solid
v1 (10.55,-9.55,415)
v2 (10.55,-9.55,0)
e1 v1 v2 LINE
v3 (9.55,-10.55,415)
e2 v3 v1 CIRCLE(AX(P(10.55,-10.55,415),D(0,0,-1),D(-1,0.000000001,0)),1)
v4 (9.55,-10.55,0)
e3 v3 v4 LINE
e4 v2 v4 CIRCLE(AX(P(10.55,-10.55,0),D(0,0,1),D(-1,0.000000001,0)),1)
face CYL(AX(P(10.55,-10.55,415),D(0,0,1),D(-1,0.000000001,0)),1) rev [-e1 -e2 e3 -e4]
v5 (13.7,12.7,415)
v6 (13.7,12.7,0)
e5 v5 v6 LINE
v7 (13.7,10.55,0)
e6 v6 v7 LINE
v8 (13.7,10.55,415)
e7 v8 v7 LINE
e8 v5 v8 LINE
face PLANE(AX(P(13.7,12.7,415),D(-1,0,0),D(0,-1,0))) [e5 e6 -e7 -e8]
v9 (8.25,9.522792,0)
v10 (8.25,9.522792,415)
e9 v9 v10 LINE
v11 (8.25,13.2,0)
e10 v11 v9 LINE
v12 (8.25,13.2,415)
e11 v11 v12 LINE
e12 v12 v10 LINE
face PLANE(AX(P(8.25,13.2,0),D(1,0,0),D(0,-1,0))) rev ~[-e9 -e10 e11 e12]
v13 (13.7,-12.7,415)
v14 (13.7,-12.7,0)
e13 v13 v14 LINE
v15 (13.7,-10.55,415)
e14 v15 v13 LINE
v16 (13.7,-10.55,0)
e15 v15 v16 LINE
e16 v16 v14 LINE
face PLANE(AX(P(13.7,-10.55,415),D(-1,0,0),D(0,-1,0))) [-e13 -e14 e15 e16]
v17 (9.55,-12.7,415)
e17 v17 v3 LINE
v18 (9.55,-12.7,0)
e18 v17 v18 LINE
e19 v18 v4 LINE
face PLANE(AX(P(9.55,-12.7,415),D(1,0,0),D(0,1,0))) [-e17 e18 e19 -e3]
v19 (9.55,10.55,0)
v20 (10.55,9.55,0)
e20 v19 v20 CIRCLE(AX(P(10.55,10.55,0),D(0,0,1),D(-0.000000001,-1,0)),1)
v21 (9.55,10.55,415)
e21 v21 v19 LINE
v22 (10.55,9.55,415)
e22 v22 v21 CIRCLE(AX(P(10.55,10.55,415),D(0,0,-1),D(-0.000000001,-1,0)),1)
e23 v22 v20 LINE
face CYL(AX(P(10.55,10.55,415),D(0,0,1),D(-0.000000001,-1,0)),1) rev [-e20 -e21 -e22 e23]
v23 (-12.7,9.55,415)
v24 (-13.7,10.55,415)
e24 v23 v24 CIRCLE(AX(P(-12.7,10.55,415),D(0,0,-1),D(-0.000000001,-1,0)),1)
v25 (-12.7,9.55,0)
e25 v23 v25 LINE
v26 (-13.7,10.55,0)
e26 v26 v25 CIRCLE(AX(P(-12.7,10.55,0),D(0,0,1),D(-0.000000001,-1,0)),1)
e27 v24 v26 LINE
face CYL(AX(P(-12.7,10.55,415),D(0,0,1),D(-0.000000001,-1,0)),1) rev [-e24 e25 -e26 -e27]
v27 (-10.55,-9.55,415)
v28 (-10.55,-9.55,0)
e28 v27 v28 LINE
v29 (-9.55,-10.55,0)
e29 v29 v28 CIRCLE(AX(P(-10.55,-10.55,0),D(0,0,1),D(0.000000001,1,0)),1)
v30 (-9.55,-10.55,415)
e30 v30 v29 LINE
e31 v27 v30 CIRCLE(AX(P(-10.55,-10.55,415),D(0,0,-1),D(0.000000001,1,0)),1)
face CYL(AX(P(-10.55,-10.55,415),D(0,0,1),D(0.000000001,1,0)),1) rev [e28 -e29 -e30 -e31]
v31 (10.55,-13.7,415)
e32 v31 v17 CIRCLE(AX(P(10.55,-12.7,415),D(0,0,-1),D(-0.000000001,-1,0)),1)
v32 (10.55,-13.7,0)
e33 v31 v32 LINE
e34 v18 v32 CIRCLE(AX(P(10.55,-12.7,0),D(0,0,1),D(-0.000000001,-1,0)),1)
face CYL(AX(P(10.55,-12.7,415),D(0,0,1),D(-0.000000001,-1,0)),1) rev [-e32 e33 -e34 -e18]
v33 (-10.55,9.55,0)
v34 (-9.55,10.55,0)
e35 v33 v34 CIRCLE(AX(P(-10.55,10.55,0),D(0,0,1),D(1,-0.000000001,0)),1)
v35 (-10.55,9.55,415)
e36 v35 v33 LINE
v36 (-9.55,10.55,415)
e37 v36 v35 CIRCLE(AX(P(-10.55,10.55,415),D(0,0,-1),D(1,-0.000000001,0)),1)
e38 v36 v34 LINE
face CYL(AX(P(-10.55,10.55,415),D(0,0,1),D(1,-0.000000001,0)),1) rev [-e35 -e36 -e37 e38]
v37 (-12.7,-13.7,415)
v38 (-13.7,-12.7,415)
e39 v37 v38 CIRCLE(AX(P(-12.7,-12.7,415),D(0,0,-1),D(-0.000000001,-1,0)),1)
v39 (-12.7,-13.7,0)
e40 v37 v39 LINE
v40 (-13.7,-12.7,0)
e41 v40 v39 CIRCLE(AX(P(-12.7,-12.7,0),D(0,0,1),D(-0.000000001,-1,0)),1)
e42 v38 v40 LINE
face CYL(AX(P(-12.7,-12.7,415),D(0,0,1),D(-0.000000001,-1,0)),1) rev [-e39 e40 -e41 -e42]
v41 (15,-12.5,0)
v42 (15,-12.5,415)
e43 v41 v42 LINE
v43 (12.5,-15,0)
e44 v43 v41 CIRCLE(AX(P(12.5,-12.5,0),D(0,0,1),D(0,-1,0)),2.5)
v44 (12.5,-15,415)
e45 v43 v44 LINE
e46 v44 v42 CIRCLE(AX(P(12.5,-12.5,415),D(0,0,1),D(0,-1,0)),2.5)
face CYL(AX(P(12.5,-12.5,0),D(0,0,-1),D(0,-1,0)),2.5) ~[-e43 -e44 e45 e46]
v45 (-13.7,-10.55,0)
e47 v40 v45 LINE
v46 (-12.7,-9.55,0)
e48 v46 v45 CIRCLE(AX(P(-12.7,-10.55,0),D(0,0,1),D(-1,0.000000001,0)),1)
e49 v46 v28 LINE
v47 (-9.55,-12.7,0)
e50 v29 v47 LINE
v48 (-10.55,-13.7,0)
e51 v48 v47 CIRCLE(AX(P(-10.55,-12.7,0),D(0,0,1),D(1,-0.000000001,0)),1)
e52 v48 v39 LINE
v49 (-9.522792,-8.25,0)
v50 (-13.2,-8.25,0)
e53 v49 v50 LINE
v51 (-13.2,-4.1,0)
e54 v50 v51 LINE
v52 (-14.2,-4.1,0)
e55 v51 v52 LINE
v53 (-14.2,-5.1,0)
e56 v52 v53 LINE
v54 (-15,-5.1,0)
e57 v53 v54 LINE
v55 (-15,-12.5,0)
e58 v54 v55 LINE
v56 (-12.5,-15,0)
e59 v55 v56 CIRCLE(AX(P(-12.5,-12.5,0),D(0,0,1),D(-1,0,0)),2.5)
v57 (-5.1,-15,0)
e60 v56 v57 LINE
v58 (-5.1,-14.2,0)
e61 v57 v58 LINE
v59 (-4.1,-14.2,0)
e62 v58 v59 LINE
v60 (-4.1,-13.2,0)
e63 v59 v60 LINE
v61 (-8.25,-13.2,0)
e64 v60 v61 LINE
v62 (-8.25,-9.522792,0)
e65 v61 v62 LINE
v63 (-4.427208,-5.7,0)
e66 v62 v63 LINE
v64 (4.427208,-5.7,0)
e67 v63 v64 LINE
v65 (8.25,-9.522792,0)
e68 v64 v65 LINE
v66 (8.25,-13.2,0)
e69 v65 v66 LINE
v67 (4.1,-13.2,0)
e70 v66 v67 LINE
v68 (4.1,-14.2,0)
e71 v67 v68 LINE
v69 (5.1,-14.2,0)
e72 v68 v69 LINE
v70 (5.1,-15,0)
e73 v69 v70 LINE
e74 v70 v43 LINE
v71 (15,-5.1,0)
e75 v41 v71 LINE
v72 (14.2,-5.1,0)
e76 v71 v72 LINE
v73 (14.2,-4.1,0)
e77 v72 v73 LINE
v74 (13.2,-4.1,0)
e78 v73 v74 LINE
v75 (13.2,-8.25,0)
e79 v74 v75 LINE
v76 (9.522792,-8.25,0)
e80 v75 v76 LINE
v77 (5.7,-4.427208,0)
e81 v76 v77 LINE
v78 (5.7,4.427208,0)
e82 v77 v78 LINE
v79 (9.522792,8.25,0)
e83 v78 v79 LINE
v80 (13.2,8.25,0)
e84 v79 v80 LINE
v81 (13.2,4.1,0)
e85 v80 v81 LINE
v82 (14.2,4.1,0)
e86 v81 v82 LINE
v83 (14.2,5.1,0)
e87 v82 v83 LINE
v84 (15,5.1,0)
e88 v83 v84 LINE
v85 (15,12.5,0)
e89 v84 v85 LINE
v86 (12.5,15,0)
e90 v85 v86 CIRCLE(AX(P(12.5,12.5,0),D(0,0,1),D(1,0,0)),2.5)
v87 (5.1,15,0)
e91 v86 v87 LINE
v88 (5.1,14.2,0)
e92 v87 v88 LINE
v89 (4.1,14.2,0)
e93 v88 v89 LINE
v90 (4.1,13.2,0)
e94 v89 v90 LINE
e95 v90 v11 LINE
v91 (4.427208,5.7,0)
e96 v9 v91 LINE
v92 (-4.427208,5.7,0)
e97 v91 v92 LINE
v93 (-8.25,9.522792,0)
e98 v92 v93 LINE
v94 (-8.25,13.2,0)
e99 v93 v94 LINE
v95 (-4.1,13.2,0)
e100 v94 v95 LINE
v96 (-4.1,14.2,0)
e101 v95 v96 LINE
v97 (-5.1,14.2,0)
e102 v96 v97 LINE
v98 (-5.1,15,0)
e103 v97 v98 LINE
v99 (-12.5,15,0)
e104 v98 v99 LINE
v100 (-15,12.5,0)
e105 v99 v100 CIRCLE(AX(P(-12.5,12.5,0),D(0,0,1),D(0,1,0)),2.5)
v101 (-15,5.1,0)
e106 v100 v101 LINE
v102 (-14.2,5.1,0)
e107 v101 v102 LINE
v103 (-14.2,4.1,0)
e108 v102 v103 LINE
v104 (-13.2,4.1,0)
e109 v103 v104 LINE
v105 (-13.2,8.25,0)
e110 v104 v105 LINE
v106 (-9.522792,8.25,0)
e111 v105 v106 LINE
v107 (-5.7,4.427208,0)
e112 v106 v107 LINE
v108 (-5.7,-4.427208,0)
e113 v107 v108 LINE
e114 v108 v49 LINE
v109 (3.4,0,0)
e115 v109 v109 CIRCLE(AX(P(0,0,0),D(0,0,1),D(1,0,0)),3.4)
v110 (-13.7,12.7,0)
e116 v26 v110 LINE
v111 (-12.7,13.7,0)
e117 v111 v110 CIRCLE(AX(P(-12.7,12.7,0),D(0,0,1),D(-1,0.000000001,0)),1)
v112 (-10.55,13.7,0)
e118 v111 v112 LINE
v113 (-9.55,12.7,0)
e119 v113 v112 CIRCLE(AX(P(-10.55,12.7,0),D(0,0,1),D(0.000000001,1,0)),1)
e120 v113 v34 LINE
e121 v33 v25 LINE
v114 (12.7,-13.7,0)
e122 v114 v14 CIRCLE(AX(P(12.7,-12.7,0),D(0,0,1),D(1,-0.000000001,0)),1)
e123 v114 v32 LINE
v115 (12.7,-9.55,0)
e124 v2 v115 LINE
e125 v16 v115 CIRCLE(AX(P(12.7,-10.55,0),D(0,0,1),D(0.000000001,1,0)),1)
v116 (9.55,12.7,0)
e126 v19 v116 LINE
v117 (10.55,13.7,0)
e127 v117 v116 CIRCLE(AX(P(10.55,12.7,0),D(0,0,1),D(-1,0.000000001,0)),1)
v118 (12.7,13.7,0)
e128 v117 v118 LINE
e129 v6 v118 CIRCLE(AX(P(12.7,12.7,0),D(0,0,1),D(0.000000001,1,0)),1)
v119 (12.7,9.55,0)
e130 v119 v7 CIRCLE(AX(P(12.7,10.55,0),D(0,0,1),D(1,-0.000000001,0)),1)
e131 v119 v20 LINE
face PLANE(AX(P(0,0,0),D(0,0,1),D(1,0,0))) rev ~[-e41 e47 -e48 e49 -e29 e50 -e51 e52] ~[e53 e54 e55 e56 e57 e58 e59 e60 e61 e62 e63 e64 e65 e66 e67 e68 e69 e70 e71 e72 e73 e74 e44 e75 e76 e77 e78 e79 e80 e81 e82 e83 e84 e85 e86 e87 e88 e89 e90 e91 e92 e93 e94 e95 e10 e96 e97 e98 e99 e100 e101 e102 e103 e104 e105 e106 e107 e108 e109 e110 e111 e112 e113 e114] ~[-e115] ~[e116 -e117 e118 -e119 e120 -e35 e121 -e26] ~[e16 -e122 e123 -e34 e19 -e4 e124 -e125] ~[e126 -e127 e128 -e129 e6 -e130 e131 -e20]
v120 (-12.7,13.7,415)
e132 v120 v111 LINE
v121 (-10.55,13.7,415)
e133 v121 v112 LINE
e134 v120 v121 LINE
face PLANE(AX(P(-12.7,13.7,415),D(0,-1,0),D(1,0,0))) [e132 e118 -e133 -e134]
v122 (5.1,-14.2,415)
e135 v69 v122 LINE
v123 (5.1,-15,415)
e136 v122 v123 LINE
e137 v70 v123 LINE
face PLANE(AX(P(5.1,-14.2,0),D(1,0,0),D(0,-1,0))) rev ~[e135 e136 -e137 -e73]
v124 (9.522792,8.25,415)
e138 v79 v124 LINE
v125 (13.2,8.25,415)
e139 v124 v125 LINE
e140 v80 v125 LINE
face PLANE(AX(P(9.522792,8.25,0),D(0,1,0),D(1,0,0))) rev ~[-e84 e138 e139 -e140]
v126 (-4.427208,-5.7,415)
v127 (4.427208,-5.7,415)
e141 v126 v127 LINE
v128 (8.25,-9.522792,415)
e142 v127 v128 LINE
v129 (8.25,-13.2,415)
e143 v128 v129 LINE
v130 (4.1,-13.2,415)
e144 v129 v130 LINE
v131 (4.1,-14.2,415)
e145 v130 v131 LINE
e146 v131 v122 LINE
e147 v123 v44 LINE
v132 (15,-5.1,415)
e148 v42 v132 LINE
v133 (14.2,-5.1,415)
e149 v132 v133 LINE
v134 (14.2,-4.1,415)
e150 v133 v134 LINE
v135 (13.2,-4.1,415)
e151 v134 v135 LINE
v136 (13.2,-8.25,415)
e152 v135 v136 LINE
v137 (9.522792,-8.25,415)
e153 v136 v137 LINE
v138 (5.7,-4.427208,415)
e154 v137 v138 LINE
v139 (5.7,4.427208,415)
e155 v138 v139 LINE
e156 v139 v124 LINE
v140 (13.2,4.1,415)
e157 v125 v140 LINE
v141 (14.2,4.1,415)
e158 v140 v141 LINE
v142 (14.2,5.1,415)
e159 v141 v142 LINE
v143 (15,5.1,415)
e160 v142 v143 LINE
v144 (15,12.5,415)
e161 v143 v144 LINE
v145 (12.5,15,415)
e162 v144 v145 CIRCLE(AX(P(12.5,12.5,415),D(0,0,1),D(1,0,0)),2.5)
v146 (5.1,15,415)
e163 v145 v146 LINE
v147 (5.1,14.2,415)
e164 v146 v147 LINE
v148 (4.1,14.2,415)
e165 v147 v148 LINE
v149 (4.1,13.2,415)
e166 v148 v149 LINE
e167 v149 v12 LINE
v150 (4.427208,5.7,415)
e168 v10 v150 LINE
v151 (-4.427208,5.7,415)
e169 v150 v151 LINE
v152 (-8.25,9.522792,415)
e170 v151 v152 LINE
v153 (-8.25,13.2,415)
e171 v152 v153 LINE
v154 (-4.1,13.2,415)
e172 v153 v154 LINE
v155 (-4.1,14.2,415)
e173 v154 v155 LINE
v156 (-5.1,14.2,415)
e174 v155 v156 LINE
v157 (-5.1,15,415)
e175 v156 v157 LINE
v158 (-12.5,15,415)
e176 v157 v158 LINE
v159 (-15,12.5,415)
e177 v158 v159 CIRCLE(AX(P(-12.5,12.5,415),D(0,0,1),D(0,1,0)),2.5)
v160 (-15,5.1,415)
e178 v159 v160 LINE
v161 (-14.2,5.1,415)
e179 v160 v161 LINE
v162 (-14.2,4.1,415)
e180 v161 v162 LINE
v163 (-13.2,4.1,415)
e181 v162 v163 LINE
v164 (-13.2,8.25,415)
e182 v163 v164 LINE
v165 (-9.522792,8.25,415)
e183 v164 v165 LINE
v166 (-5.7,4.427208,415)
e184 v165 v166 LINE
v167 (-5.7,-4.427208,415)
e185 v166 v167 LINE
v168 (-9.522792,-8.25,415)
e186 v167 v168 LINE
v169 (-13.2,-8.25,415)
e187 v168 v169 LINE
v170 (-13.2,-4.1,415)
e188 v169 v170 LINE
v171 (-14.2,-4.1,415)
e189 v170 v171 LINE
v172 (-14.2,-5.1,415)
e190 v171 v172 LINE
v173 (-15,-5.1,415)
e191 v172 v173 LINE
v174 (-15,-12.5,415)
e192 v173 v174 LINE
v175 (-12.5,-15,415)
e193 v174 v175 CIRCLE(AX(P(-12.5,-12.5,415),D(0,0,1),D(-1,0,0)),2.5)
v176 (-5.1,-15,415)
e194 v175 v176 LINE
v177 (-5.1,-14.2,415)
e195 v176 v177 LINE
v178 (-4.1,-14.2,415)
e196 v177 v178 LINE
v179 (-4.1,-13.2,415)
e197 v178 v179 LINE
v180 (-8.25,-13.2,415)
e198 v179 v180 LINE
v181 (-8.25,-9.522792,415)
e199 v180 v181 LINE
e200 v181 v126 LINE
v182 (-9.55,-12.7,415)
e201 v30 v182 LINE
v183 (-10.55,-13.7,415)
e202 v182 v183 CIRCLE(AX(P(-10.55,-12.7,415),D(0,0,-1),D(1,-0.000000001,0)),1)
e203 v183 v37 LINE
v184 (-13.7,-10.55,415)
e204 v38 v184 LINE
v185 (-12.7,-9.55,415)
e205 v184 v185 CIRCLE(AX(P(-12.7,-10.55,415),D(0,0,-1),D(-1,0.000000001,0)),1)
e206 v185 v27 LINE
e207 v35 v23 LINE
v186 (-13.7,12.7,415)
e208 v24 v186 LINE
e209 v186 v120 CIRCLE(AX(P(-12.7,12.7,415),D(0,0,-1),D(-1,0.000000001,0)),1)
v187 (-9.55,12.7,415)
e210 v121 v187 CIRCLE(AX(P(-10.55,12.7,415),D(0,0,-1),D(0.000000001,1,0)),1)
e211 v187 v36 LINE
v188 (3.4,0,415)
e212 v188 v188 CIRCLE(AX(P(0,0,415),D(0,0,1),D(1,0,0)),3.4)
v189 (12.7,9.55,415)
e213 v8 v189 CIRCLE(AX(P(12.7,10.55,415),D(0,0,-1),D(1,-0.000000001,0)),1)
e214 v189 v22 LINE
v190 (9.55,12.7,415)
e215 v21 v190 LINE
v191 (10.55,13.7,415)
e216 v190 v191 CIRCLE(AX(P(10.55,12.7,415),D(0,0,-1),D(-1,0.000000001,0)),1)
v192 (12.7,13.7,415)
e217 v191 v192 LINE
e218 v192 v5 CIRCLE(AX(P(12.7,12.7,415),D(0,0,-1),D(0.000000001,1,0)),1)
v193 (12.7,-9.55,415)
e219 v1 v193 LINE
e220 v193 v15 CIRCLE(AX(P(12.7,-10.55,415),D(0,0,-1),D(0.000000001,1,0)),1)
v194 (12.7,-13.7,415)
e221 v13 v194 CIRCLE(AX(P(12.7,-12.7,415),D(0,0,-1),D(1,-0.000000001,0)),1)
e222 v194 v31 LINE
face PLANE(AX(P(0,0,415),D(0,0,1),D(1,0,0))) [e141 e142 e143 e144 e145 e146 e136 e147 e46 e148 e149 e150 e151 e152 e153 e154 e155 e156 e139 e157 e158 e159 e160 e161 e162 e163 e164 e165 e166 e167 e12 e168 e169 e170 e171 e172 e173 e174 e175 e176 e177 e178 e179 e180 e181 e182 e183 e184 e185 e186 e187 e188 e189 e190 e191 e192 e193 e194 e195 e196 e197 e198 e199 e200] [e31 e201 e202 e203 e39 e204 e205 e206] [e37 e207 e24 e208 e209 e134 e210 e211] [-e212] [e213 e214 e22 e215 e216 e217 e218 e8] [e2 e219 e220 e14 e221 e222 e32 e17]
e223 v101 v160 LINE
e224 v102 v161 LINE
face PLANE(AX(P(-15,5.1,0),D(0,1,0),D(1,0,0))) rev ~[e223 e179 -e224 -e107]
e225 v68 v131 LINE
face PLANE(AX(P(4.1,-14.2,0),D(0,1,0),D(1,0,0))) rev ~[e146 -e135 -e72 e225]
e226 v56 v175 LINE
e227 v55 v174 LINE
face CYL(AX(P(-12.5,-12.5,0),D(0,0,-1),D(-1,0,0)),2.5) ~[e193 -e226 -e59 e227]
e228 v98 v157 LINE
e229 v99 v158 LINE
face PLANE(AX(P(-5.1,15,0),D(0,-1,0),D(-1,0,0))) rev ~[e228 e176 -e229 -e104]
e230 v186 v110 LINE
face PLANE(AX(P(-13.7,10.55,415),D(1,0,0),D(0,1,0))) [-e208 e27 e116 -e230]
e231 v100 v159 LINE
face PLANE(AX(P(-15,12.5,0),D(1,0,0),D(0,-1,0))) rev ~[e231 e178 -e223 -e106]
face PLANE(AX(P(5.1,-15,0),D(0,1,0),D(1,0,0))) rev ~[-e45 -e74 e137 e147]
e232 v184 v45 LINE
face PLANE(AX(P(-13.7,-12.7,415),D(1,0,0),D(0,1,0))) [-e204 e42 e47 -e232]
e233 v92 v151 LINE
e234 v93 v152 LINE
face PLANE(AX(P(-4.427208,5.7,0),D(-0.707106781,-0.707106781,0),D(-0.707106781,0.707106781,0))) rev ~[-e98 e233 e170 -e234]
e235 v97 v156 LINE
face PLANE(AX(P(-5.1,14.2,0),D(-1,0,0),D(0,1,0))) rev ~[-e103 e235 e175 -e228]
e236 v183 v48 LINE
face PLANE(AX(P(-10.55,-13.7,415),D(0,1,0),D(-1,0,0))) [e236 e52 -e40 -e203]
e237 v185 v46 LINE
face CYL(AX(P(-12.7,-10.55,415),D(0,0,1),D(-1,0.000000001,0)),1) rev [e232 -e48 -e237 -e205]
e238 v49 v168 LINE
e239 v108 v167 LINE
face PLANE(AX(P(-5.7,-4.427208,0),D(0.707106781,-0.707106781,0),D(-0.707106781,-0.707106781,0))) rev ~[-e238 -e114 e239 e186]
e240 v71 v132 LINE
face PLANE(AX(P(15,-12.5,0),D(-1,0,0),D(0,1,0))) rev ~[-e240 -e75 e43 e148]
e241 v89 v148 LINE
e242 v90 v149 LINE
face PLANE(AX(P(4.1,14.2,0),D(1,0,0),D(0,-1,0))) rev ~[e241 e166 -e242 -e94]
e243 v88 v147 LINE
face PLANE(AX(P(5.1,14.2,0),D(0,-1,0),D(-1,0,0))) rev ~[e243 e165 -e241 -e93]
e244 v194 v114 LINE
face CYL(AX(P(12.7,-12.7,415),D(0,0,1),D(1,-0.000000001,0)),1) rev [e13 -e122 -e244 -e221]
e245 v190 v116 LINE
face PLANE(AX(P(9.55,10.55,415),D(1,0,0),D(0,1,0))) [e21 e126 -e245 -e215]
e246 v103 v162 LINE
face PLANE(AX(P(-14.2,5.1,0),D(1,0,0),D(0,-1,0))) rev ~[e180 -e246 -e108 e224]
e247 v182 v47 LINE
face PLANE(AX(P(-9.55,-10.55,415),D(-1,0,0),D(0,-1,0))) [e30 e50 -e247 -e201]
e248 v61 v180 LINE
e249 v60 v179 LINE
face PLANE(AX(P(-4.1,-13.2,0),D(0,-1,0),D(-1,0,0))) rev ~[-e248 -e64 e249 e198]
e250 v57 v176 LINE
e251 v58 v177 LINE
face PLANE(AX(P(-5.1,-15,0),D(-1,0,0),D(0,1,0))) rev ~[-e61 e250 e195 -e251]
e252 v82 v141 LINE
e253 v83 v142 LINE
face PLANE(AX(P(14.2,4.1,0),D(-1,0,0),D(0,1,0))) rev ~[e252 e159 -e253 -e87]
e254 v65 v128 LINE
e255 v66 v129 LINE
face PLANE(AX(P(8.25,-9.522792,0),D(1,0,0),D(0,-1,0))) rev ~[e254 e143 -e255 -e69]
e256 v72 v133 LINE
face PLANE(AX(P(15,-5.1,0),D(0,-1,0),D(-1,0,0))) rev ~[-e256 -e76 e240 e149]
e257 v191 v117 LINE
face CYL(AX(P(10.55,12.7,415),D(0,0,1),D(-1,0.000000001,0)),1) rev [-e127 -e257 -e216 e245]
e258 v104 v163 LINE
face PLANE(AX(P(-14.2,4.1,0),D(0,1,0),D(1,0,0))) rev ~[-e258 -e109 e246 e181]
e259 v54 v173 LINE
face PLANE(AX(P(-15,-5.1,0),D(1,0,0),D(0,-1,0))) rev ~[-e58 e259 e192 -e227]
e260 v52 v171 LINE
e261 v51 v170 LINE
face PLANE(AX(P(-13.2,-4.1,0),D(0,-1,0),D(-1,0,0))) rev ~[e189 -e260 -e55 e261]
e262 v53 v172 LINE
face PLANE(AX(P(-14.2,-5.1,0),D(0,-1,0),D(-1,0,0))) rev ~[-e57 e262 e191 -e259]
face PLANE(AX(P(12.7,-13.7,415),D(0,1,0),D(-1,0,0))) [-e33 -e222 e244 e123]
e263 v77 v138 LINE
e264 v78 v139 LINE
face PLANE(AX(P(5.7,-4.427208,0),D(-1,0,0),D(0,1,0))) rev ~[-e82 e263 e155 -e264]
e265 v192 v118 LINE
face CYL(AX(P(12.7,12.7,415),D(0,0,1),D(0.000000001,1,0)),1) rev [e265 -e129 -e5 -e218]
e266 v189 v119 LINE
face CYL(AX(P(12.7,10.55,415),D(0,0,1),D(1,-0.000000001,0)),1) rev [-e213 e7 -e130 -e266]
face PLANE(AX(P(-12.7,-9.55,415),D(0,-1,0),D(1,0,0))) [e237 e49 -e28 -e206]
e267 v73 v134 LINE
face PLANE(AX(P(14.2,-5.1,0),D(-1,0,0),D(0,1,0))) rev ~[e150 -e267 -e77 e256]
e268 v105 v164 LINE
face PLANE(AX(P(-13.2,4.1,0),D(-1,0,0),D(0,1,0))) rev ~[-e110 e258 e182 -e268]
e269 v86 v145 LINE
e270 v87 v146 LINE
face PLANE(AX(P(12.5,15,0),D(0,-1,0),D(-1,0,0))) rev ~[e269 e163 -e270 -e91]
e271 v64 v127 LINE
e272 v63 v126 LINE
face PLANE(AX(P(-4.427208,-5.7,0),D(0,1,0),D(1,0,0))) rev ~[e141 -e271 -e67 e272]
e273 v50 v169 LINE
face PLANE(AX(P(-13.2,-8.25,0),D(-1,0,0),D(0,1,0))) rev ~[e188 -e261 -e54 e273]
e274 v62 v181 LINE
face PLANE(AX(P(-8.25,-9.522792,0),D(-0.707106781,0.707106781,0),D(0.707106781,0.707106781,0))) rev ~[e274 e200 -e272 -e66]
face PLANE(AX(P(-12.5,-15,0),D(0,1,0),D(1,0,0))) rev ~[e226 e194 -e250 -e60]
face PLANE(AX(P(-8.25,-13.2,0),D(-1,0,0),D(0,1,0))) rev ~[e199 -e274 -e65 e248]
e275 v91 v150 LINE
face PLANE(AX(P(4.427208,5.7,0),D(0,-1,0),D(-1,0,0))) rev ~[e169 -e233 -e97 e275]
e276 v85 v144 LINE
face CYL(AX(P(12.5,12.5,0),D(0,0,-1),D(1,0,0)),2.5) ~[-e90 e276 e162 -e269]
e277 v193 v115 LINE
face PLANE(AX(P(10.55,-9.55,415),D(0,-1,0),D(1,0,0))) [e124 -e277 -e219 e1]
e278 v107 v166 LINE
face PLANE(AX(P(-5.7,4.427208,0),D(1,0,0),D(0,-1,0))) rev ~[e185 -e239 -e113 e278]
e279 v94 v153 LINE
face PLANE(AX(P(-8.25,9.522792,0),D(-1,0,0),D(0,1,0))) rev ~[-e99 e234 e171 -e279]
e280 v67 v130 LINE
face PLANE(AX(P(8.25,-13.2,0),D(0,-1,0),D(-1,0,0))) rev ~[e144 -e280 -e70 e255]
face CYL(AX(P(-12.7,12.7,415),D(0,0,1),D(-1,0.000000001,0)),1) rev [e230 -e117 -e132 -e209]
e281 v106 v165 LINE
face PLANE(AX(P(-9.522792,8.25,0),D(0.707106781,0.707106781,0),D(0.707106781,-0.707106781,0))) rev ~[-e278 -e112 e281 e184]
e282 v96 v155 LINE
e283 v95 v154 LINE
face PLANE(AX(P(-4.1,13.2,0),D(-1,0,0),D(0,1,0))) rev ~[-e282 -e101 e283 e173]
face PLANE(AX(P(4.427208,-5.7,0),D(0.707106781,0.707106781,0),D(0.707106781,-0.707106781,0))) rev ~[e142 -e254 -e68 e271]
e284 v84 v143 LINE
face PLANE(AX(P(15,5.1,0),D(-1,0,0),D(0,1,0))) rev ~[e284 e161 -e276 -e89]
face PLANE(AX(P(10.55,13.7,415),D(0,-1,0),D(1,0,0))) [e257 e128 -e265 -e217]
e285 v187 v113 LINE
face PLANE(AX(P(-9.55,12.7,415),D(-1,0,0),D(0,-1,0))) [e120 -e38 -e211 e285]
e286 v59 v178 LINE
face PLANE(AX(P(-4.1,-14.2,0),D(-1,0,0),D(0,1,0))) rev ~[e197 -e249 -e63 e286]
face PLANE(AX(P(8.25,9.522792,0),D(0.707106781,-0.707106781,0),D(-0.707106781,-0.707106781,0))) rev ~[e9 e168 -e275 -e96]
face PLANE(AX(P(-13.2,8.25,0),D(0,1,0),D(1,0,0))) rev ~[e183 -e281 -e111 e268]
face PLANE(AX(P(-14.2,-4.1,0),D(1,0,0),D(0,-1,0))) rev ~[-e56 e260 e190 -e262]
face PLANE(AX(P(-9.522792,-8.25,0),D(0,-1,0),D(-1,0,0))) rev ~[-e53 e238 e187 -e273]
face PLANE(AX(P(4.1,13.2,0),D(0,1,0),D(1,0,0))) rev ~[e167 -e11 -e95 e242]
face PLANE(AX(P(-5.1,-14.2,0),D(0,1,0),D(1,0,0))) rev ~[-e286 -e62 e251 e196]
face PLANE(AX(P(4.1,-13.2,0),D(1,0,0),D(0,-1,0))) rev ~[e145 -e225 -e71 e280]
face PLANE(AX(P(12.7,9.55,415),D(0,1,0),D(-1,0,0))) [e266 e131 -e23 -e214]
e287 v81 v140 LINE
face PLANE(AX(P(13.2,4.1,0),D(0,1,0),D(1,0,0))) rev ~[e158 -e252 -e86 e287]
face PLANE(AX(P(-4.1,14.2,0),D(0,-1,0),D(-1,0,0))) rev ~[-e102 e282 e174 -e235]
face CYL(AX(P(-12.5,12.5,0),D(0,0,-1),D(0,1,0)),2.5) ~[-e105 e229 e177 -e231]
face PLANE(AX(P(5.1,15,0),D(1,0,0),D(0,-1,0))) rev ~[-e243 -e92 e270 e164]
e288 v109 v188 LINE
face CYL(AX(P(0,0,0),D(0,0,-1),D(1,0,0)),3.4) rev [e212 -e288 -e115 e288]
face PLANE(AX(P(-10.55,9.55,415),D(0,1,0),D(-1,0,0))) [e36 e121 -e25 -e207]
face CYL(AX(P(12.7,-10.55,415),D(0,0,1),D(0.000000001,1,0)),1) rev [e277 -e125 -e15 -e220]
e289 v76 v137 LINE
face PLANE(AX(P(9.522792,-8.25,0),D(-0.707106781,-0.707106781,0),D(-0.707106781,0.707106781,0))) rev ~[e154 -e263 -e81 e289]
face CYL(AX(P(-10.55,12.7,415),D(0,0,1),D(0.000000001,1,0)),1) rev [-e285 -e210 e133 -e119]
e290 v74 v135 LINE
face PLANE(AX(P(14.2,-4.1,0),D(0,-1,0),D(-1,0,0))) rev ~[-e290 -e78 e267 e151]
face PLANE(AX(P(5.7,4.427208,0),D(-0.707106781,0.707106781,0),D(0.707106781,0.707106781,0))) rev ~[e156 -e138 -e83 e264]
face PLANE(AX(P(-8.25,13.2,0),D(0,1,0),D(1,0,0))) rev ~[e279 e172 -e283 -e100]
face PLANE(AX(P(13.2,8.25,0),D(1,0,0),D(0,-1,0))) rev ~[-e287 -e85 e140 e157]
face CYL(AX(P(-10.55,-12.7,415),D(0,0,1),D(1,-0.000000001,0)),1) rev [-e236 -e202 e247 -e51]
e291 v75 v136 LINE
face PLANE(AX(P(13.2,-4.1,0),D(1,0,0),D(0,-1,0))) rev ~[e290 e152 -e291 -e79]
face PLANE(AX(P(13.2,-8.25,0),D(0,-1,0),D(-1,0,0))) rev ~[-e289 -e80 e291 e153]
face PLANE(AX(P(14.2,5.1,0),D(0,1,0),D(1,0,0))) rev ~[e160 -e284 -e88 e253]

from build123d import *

# Parameters (mm, degrees)
SKETCH1_R      = 3.4
EXTRUDE1_DEPTH = 415
EXTRUDE2_DEPTH = 416.541814984


with BuildPart() as part:
    # Sketch1 → Extrude1 (new body)
    with BuildSketch(Plane.XY):
        with BuildLine():
            Line((-5.1, 14.2), (-5.1, 15))
            Line((-5.1, 15), (-12.5, 15))
            ThreePointArc((-12.5, 15), (-14.267766953, 14.267766953), (-15, 12.5))
            Line((-15, 12.5), (-15, 5.1))
            Line((-15, 5.1), (-14.2, 5.1))
            Line((-14.2, 5.1), (-14.2, 4.1))
            Line((-14.2, 4.1), (-13.2, 4.1))
            Line((-13.2, 4.1), (-13.2, 8.25))
            Line((-13.2, 8.25), (-9.522792206, 8.25))
            Line((-9.522792206, 8.25), (-5.7, 4.427207794))
            Line((-5.7, 4.427207794), (-5.7, -4.427207794))
            Line((-5.7, -4.427207794), (-9.522792206, -8.25))
            Line((-9.522792206, -8.25), (-13.2, -8.25))
            Line((-13.2, -8.25), (-13.2, -4.1))
            Line((-13.2, -4.1), (-14.2, -4.1))
            Line((-14.2, -4.1), (-14.2, -5.1))
            Line((-14.2, -5.1), (-15, -5.1))
            Line((-15, -5.1), (-15, -12.5))
            ThreePointArc((-15, -12.5), (-14.267766953, -14.267766953), (-12.5, -15))
            Line((-12.5, -15), (-5.1, -15))
            Line((-5.1, -15), (-5.1, -14.2))
            Line((-5.1, -14.2), (-4.1, -14.2))
            Line((-4.1, -14.2), (-4.1, -13.2))
            Line((-4.1, -13.2), (-8.25, -13.2))
            Line((-8.25, -13.2), (-8.25, -9.522792206))
            Line((-8.25, -9.522792206), (-4.427207794, -5.7))
            Line((-4.427207794, -5.7), (4.427207794, -5.7))
            Line((4.427207794, -5.7), (8.25, -9.522792206))
            Line((8.25, -9.522792206), (8.25, -13.2))
            Line((8.25, -13.2), (4.1, -13.2))
            Line((4.1, -13.2), (4.1, -14.2))
            Line((4.1, -14.2), (5.1, -14.2))
            Line((5.1, -14.2), (5.1, -15))
            Line((5.1, -15), (12.5, -15))
            ThreePointArc((12.5, -15), (14.267766953, -14.267766953), (15, -12.5))
            Line((15, -12.5), (15, -5.1))
            Line((15, -5.1), (14.2, -5.1))
            Line((14.2, -5.1), (14.2, -4.1))
            Line((14.2, -4.1), (13.2, -4.1))
            Line((13.2, -4.1), (13.2, -8.25))
            Line((13.2, -8.25), (9.522792206, -8.25))
            Line((9.522792206, -8.25), (5.7, -4.427207794))
            Line((5.7, -4.427207794), (5.7, 4.427207794))
            Line((5.7, 4.427207794), (9.522792206, 8.25))
            Line((9.522792206, 8.25), (13.2, 8.25))
            Line((13.2, 8.25), (13.2, 4.1))
            Line((13.2, 4.1), (14.2, 4.1))
            Line((14.2, 4.1), (14.2, 5.1))
            Line((14.2, 5.1), (15, 5.1))
            Line((15, 5.1), (15, 12.5))
            ThreePointArc((15, 12.5), (14.267766953, 14.267766953), (12.5, 15))
            Line((12.5, 15), (5.1, 15))
            Line((5.1, 15), (5.1, 14.2))
            Line((5.1, 14.2), (4.1, 14.2))
            Line((4.1, 14.2), (4.1, 13.2))
            Line((4.1, 13.2), (8.25, 13.2))
            Line((8.25, 13.2), (8.25, 9.522792206))
            Line((8.25, 9.522792206), (4.427207794, 5.7))
            Line((4.427207794, 5.7), (-4.427207794, 5.7))
            Line((-4.427207794, 5.7), (-8.25, 9.522792206))
            Line((-8.25, 9.522792206), (-8.25, 13.2))
            Line((-8.25, 13.2), (-4.1, 13.2))
            Line((-4.1, 13.2), (-4.1, 14.2))
            Line((-4.1, 14.2), (-5.1, 14.2))
        make_face()
        Circle(SKETCH1_R, mode=Mode.SUBTRACT)
    extrude(amount=EXTRUDE1_DEPTH)

    # Sketch2 → Extrude2 (cut, through all)
    with BuildSketch(Plane.XY.offset(415)):
        with BuildLine():
            Line((13.7, 12.7), (13.7, 10.55))
            ThreePointArc((13.7, 10.55), (13.407106781, 9.842893219), (12.7, 9.55))
            Line((12.7, 9.55), (10.55, 9.55))
            ThreePointArc((10.55, 9.55), (9.842893219, 9.842893219), (9.55, 10.55))
            Line((9.55, 10.55), (9.55, 12.7))
            ThreePointArc((9.55, 12.7), (9.842893219, 13.407106781), (10.55, 13.7))
            Line((10.55, 13.7), (12.7, 13.7))
            ThreePointArc((12.7, 13.7), (13.407106781, 13.407106781), (13.7, 12.7))
        make_face()
        with BuildLine():
            Line((-12.7, 13.7), (-10.55, 13.7))
            ThreePointArc((-10.55, 13.7), (-9.842893219, 13.407106781), (-9.55, 12.7))
            Line((-9.55, 12.7), (-9.55, 10.55))
            ThreePointArc((-9.55, 10.55), (-9.842893219, 9.842893219), (-10.55, 9.55))
            Line((-10.55, 9.55), (-12.7, 9.55))
            ThreePointArc((-12.7, 9.55), (-13.407106781, 9.842893219), (-13.7, 10.55))
            Line((-13.7, 10.55), (-13.7, 12.7))
            ThreePointArc((-13.7, 12.7), (-13.407106781, 13.407106781), (-12.7, 13.7))
        make_face()
        with BuildLine():
            Line((12.7, -13.7), (10.55, -13.7))
            ThreePointArc((10.55, -13.7), (9.842893219, -13.407106781), (9.55, -12.7))
            Line((9.55, -12.7), (9.55, -10.55))
            ThreePointArc((9.55, -10.55), (9.842893219, -9.842893219), (10.55, -9.55))
            Line((10.55, -9.55), (12.7, -9.55))
            ThreePointArc((12.7, -9.55), (13.407106781, -9.842893219), (13.7, -10.55))
            Line((13.7, -10.55), (13.7, -12.7))
            ThreePointArc((13.7, -12.7), (13.407106781, -13.407106781), (12.7, -13.7))
        make_face()
        with BuildLine():
            Line((-13.7, -12.7), (-13.7, -10.55))
            ThreePointArc((-13.7, -10.55), (-13.407106781, -9.842893219), (-12.7, -9.55))
            Line((-12.7, -9.55), (-10.55, -9.55))
            ThreePointArc((-10.55, -9.55), (-9.842893219, -9.842893219), (-9.55, -10.55))
            Line((-9.55, -10.55), (-9.55, -12.7))
            ThreePointArc((-9.55, -12.7), (-9.842893219, -13.407106781), (-10.55, -13.7))
            Line((-10.55, -13.7), (-12.7, -13.7))
            ThreePointArc((-12.7, -13.7), (-13.407106781, -13.407106781), (-13.7, -12.7))
        make_face()
    extrude(amount=-EXTRUDE2_DEPTH, mode=Mode.SUBTRACT)


solid = part.part
